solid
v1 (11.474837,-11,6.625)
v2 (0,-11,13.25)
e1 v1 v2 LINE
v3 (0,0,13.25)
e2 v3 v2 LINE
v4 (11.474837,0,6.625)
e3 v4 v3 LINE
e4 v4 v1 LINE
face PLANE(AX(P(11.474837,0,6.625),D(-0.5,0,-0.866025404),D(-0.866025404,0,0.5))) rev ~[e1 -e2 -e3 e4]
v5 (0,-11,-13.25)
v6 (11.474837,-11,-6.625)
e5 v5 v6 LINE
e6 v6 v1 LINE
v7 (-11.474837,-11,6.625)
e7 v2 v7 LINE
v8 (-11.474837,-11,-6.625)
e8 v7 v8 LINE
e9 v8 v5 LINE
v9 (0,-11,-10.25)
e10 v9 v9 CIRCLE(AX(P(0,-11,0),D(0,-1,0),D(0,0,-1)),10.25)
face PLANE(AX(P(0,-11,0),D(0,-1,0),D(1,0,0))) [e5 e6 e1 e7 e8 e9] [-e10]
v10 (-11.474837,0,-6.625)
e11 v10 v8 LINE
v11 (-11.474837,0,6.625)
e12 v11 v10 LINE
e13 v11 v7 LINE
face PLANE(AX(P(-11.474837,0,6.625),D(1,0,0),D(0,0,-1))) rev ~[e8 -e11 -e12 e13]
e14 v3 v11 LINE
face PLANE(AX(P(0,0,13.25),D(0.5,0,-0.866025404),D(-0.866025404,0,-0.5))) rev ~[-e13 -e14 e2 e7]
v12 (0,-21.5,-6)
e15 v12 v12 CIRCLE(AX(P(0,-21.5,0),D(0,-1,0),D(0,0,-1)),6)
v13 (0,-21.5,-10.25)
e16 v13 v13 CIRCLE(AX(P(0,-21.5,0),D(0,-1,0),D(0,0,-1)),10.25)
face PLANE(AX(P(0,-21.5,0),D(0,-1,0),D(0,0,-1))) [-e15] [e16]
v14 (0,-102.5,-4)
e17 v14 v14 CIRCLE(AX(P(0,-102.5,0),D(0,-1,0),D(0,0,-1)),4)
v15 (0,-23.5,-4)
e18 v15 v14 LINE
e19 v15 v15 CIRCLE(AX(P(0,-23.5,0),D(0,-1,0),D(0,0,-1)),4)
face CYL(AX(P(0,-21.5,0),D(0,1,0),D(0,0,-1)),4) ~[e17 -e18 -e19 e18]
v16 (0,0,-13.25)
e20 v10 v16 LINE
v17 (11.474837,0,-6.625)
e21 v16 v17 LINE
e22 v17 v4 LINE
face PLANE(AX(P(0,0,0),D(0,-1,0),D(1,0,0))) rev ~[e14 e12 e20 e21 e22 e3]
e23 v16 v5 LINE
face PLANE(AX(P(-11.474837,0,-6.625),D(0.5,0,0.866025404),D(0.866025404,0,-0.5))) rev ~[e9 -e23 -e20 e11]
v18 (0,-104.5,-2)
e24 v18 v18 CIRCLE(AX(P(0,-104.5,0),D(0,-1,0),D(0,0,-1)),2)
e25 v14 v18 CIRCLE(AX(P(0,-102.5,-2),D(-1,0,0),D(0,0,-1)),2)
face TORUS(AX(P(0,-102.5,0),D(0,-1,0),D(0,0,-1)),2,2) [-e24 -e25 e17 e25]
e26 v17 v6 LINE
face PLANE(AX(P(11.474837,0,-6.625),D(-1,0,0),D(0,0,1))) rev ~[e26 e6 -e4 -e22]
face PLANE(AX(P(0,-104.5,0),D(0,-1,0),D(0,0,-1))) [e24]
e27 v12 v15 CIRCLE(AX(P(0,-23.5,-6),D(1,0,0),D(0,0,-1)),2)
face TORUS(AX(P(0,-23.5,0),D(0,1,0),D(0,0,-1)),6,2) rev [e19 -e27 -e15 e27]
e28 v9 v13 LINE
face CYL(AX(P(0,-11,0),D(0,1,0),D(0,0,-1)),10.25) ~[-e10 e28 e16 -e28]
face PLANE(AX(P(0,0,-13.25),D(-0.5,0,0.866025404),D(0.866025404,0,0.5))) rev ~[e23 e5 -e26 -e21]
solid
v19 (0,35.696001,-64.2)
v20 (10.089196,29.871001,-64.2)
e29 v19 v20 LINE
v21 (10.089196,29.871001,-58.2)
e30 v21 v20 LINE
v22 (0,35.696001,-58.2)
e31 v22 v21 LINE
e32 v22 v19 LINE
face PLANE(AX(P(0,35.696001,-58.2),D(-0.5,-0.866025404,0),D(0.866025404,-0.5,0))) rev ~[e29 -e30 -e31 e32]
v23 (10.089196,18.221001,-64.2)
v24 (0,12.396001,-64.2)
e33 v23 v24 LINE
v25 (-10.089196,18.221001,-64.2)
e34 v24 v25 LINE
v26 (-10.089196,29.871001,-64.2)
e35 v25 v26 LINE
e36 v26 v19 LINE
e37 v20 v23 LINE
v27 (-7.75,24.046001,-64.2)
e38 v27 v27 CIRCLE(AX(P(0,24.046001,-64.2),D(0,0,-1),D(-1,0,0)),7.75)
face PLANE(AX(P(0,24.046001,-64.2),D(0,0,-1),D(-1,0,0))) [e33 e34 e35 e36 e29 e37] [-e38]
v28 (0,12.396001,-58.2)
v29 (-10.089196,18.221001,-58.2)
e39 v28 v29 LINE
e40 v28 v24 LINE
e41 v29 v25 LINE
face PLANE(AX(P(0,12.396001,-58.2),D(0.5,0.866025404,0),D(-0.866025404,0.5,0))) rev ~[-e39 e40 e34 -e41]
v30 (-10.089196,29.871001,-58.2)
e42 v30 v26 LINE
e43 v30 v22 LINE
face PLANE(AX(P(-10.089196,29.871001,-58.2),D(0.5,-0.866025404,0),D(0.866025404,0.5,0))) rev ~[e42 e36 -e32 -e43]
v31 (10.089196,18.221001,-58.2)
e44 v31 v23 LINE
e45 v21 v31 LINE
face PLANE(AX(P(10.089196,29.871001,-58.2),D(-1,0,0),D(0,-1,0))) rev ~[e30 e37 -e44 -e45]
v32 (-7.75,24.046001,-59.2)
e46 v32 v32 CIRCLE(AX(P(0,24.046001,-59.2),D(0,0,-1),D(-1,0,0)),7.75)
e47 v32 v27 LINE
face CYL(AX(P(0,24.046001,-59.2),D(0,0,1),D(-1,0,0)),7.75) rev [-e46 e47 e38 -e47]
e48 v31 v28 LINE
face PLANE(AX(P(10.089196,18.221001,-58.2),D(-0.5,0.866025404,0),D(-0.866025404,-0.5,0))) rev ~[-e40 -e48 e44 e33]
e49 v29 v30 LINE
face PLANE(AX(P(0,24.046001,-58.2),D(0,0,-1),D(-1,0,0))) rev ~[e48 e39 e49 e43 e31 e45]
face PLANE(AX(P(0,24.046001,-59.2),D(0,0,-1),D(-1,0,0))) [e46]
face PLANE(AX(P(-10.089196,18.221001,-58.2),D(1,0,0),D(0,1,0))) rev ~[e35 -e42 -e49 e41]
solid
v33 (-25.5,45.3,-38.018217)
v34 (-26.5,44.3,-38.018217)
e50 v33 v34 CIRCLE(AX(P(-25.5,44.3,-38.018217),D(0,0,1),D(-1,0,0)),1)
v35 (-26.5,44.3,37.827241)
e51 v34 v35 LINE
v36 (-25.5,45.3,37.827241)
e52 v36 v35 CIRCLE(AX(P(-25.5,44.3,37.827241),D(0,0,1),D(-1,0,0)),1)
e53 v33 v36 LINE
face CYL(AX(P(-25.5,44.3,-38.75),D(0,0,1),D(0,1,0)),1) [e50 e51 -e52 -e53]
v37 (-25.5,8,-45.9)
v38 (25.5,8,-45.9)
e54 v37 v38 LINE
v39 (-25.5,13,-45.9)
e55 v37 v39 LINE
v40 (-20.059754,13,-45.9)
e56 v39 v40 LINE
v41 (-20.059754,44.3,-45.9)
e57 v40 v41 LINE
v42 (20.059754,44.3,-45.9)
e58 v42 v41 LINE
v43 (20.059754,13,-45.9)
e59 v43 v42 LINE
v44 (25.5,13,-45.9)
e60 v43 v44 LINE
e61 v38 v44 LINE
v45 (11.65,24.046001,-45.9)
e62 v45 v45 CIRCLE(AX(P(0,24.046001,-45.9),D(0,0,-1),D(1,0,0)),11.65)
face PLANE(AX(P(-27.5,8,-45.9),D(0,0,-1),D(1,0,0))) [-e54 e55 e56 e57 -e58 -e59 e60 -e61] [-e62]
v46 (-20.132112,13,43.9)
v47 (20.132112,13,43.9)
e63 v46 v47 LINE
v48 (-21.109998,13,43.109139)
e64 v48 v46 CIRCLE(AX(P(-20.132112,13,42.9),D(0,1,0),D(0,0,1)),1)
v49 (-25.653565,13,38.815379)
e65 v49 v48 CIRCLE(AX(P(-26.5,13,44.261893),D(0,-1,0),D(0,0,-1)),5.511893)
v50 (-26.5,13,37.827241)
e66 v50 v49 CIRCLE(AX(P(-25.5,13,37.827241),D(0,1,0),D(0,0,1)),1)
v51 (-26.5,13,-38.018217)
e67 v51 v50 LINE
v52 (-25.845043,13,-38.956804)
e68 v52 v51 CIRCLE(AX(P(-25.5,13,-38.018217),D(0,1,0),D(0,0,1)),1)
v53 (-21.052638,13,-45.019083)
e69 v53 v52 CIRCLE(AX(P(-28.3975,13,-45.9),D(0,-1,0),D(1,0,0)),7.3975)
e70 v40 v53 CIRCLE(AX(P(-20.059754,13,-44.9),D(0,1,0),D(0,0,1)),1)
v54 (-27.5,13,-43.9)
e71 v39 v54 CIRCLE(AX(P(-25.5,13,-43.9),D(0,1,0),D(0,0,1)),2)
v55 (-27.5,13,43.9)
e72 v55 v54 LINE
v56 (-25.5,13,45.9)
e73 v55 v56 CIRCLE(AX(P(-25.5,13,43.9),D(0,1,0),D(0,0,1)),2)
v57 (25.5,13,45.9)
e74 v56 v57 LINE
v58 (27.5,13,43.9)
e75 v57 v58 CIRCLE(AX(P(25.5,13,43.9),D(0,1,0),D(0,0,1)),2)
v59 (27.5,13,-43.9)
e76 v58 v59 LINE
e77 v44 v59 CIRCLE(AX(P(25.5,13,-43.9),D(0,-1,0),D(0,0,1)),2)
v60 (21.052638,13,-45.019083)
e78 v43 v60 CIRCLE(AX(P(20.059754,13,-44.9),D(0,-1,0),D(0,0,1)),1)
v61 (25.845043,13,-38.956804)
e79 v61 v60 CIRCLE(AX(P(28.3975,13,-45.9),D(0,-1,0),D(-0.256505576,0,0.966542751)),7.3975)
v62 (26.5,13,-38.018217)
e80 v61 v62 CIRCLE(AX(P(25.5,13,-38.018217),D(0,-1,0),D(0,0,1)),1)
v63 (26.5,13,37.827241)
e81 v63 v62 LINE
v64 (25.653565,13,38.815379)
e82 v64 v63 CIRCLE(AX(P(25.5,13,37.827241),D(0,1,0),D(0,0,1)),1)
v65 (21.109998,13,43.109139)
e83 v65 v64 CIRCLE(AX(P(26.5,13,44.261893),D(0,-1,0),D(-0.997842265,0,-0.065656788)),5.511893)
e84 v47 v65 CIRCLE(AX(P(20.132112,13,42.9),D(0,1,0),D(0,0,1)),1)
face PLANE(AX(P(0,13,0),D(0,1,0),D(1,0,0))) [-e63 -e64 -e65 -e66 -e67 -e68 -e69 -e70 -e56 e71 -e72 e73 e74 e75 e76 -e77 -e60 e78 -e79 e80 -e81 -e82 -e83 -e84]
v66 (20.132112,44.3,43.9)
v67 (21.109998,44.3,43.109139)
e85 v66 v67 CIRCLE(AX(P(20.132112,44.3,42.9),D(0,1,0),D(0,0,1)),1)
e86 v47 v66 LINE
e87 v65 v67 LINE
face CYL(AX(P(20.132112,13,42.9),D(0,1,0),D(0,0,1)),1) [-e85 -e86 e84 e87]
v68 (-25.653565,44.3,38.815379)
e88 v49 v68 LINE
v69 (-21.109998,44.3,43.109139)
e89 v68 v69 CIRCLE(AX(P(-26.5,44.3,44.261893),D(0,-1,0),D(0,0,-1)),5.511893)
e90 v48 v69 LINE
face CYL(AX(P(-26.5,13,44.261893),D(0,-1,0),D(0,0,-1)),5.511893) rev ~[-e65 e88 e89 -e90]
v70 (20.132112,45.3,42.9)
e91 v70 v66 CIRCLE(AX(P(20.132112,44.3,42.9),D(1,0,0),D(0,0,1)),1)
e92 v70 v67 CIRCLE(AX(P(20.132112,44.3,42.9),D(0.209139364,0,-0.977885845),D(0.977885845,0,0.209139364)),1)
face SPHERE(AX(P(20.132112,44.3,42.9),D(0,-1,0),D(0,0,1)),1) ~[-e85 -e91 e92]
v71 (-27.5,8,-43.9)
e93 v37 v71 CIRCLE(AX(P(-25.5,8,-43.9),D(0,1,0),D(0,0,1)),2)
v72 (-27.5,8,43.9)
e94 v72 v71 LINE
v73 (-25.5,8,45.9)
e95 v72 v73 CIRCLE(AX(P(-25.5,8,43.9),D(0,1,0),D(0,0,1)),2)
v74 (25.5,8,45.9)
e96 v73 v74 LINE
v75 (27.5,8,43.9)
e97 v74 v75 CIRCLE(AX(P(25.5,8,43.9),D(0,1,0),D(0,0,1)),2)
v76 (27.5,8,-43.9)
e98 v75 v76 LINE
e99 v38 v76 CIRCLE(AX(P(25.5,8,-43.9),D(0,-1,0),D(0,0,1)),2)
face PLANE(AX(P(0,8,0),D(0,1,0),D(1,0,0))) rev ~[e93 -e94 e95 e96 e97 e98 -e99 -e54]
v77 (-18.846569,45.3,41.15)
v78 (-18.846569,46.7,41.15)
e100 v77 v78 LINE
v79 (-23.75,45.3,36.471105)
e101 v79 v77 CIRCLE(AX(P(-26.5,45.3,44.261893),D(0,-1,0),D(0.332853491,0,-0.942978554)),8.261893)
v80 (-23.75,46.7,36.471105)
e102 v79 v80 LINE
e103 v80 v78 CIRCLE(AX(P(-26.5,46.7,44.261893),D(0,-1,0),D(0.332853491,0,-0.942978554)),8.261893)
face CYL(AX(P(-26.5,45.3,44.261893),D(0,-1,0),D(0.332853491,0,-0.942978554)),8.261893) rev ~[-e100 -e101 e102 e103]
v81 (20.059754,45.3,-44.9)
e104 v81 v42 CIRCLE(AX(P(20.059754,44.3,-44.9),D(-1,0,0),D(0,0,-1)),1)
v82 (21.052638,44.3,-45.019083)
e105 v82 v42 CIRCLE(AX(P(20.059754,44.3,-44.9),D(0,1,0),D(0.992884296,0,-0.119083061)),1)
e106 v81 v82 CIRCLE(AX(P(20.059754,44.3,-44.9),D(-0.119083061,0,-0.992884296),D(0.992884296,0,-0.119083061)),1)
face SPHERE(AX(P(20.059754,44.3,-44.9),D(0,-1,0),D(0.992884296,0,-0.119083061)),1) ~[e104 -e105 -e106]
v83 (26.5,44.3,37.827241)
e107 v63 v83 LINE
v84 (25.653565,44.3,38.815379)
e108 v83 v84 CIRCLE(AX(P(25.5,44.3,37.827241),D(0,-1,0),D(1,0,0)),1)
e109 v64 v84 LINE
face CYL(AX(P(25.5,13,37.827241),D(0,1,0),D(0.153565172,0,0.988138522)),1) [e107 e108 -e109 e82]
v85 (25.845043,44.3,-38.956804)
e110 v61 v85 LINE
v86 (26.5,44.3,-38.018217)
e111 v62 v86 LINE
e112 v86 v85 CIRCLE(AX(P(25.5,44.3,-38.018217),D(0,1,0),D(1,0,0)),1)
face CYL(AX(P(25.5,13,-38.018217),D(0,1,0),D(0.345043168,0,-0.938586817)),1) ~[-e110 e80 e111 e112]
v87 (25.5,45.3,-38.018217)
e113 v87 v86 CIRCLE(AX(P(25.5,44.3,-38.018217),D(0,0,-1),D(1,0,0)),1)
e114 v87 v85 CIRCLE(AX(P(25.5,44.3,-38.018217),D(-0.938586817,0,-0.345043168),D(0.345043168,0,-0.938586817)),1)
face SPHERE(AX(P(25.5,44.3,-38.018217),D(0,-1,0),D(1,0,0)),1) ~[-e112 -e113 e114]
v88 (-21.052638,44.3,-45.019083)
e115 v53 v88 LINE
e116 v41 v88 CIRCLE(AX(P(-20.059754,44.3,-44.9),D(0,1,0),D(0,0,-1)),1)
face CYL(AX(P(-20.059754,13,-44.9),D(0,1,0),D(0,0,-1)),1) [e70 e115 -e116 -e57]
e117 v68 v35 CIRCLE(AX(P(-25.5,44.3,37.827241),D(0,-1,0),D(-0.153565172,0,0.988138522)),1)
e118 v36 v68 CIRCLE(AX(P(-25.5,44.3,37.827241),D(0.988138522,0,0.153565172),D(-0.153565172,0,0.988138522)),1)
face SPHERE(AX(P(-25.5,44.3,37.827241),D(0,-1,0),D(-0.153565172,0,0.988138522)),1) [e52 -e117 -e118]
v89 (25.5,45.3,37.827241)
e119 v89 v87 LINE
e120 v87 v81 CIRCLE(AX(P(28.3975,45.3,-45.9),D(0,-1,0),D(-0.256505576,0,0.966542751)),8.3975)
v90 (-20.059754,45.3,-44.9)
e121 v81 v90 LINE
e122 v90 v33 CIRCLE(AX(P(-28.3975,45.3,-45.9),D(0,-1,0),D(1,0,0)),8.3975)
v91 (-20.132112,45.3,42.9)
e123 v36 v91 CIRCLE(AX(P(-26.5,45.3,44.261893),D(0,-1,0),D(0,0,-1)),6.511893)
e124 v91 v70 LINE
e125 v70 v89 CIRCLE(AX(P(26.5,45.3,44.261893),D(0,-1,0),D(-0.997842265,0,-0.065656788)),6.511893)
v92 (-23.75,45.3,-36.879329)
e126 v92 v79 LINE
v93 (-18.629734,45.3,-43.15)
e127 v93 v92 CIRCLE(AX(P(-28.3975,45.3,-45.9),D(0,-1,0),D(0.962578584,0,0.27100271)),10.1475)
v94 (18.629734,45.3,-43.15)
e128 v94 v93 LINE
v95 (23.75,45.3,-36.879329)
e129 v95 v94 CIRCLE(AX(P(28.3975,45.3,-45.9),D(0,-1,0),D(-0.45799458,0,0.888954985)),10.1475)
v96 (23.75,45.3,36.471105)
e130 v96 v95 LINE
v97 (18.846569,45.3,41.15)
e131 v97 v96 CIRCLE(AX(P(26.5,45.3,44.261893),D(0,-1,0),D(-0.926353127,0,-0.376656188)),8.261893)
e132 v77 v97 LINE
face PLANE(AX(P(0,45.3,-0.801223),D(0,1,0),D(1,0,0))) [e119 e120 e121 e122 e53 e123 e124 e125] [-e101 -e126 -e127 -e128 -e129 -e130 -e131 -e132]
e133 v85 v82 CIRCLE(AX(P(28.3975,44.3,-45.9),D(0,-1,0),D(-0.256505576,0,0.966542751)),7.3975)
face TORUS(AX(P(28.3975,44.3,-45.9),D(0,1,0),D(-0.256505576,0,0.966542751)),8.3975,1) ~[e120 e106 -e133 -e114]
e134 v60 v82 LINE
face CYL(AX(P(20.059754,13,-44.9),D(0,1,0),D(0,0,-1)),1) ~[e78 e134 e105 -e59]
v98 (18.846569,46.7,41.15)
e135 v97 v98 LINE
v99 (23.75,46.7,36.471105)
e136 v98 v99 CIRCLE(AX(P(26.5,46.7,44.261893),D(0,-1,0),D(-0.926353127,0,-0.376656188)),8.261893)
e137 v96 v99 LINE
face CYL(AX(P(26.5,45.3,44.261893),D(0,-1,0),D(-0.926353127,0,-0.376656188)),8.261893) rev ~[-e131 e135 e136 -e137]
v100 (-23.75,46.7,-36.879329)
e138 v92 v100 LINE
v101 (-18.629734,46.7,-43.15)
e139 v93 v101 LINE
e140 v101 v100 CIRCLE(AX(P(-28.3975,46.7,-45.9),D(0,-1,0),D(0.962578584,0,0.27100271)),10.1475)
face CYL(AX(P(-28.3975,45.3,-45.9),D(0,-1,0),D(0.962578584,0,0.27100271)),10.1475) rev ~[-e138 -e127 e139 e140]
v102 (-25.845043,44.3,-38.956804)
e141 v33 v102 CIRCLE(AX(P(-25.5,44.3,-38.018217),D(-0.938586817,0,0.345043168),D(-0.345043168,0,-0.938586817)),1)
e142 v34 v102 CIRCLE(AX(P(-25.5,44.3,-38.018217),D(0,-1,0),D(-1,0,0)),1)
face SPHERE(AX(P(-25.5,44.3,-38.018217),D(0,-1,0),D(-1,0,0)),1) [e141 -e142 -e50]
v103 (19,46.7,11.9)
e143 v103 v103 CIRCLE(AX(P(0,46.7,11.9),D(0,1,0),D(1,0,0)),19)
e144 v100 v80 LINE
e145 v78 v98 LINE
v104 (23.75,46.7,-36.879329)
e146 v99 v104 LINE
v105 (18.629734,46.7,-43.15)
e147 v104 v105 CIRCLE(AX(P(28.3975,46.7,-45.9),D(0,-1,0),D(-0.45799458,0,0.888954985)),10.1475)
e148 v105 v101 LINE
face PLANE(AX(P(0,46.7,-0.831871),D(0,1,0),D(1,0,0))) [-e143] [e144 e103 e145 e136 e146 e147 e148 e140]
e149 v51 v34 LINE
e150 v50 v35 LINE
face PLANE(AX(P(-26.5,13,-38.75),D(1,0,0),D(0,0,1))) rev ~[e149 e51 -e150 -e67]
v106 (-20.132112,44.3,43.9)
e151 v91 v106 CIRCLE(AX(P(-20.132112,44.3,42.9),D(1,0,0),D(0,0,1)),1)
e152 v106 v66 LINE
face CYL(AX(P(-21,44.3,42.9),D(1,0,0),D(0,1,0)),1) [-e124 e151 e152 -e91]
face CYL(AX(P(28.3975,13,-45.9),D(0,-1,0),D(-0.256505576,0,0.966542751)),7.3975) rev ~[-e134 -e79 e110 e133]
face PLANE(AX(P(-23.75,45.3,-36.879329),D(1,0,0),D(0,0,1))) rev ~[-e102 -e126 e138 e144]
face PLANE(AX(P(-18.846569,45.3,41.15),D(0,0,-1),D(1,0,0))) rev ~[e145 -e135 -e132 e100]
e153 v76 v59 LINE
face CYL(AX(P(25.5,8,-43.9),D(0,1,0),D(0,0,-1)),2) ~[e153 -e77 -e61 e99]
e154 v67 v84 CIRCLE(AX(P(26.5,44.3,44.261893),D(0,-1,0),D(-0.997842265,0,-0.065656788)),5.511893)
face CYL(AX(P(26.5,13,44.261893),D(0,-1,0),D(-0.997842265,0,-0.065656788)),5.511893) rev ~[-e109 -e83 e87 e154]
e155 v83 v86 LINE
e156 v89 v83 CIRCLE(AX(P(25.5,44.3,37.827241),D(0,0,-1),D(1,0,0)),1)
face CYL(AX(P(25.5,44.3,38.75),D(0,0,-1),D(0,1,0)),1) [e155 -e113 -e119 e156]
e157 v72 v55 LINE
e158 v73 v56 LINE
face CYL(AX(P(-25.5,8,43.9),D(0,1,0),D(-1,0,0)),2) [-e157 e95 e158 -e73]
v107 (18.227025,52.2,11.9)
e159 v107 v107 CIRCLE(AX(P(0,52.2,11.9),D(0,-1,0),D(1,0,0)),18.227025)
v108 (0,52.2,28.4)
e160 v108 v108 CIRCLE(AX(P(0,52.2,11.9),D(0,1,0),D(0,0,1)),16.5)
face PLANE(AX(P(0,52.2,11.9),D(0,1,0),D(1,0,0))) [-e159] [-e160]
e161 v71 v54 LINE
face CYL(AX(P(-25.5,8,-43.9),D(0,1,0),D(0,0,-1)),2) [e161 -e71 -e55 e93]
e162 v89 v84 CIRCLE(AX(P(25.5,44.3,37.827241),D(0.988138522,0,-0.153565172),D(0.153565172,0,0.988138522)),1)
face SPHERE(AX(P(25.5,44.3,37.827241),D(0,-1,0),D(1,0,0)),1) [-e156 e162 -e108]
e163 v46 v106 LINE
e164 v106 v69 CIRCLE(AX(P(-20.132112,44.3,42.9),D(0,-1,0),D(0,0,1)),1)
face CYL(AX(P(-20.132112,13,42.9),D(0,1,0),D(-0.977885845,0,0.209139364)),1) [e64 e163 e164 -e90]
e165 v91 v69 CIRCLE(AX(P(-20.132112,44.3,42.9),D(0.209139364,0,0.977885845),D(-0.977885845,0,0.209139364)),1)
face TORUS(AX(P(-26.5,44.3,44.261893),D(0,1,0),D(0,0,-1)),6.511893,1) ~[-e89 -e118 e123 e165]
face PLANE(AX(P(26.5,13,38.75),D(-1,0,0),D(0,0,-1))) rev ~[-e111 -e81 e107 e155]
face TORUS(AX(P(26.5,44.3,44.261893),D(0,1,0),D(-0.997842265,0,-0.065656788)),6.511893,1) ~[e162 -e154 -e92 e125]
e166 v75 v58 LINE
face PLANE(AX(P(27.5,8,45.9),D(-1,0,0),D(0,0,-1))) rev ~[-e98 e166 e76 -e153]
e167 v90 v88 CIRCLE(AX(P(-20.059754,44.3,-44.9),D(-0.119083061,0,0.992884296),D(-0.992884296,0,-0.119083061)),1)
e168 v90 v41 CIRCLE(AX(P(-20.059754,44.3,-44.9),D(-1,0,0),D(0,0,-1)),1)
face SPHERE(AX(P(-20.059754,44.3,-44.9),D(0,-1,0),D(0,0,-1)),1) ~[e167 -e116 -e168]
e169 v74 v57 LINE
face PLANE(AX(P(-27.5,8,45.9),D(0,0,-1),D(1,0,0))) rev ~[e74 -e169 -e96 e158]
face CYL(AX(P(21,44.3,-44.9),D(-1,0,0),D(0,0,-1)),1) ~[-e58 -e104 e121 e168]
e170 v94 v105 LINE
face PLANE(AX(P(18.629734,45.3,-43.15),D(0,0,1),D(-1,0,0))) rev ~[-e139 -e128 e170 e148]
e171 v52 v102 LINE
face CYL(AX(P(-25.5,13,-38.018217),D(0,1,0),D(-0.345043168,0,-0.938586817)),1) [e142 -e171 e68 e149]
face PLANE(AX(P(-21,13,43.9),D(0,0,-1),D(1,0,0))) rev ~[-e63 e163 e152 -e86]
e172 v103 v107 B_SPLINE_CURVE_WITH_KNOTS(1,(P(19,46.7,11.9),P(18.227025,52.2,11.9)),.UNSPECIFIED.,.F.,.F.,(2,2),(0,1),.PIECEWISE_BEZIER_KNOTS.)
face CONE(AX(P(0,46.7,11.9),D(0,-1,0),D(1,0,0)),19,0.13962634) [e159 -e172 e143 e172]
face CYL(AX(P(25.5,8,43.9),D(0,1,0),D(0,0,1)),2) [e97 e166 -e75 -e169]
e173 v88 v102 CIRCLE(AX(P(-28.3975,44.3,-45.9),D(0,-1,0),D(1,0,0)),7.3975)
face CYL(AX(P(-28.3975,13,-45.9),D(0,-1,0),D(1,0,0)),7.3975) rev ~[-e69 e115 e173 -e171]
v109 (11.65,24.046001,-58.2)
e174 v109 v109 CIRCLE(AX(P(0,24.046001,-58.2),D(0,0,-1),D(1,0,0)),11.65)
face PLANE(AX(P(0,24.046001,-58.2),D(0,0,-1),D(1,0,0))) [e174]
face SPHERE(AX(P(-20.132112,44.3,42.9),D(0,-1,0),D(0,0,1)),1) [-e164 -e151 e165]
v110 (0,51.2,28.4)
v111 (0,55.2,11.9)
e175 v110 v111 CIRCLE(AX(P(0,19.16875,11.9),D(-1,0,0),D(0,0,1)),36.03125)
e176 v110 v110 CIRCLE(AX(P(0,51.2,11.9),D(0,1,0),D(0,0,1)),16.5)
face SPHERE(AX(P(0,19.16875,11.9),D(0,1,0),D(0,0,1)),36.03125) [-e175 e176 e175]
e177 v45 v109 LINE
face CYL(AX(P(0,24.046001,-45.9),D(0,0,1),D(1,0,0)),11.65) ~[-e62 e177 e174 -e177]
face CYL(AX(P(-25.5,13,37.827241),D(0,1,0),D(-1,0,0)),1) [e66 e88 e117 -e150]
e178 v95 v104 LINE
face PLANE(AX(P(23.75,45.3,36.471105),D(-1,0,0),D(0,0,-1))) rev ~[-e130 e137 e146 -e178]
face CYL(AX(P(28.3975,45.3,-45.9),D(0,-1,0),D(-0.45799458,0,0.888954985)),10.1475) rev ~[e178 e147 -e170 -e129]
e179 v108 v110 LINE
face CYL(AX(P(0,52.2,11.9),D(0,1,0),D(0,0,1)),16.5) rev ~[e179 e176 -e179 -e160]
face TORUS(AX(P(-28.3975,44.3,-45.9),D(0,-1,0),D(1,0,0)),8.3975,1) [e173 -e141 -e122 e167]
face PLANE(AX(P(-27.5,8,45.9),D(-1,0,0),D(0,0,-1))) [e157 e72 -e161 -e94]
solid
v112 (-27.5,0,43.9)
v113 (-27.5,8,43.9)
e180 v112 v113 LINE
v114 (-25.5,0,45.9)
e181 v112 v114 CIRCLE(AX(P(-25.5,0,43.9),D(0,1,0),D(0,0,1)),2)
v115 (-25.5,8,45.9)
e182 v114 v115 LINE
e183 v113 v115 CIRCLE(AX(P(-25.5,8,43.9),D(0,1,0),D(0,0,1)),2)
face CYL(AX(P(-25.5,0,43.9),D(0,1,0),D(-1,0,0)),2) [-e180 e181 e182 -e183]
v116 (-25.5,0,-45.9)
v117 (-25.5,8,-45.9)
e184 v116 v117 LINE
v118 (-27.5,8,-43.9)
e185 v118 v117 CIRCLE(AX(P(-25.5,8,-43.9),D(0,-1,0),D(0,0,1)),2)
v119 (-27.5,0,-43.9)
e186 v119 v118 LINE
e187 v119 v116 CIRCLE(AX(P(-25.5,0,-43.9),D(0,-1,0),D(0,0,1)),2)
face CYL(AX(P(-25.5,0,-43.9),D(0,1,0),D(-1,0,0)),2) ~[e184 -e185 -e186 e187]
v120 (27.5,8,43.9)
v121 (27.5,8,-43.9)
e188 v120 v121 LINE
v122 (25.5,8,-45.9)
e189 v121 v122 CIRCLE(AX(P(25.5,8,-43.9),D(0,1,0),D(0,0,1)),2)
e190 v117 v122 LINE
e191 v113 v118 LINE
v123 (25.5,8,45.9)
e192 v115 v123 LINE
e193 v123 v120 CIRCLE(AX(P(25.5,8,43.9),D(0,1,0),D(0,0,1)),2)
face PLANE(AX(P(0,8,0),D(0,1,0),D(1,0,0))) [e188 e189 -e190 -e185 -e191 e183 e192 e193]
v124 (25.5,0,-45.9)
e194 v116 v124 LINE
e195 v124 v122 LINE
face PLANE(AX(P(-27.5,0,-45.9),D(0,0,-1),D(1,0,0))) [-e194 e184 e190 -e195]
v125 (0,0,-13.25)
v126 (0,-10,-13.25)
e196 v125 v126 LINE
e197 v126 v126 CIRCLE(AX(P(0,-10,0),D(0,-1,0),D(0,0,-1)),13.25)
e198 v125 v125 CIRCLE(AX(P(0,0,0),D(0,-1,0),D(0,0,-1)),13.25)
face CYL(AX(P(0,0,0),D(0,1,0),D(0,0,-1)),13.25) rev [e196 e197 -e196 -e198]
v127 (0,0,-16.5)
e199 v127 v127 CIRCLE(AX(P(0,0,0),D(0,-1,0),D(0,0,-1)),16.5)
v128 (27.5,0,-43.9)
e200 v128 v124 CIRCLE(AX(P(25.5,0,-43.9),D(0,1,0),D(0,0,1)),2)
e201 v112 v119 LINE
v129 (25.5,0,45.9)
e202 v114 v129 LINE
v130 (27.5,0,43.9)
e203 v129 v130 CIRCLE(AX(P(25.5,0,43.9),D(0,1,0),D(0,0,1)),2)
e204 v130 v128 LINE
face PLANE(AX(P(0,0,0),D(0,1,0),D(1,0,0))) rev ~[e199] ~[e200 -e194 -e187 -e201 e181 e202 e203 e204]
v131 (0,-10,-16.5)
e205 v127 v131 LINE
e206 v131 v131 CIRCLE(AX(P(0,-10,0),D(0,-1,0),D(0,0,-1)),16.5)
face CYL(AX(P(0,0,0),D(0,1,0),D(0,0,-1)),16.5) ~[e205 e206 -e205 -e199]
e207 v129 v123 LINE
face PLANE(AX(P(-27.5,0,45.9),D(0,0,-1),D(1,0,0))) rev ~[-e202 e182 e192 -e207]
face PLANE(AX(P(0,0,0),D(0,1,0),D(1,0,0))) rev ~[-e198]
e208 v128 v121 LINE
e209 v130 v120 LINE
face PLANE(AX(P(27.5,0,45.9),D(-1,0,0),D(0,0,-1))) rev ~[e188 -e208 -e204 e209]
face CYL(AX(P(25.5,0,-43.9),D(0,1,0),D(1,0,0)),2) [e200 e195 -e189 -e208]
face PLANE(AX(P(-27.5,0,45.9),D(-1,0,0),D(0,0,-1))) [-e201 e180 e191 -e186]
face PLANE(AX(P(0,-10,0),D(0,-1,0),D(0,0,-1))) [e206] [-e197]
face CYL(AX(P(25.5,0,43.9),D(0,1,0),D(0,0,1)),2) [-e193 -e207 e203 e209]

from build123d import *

# Parameters (mm, degrees)
SKICA1_W                 = 55
SKICA1_H                 = 91.8
P_IDAT_VYSUNUT_M1_DEPTH  = 8
SKICA2_W                 = 55
SKICA2_H                 = 91.8
P_IDAT_VYSUNUT_M2_DEPTH  = 5
P_IDAT_VYSUNUT_M3_DEPTH  = 32.3
P_IDAT_VYSUNUT_M4_DEPTH  = 1.4
ZAOBLIT1_R               = 1
ZAOBLIT1_2_R             = 2
ZAOBLIT2_R               = 2
SKICA5_R                 = 11.65
P_IDAT_VYSUNUT_M5_DEPTH  = 12.3
P_IDAT_VYSUNUT_M6_DEPTH  = 6
ODEBRAT_START            = 1
SKICA6_3_R               = 7.75
ODEBRAT_VYSUNUT_M1_DEPTH = 5
SKICA9_R                 = 19
P_IDAT_VYSUNUT_M8_DEPTH  = 5.5
P_IDAT_VYSUNUT_M8_TAPER  = 8
SKICA10_R                = 16.5
ODEBRAT_VYSUNUT_M2_DEPTH = 1
KOPULE1_FACE_RADIUS      = 16.5
KOPULE1_HEIGHT           = 4
SKICA11_R                = 16.5
SKICA11_R_2              = 13.25
P_IDAT_VYSUNUT_M9_DEPTH  = 10
P_IDAT_VYSUNUT_M10_DEPTH = 11
SKICA13_R                = 10.25
P_IDAT_VYSUNUT_M11_DEPTH = 10.5
SKICA14_R                = 4
P_IDAT_VYSUNUT_M12_DEPTH = 83
ZAOBLIT3_R               = 2


with BuildPart() as part:
    # Skica1 → P_idat vysunut_m1 (new body)
    with BuildSketch(Plane(origin=(0, 0, 0), x_dir=(1, 0, 0), z_dir=(0, 1, 0))):
        Rectangle(SKICA1_W, SKICA1_H)
    extrude(amount=P_IDAT_VYSUNUT_M1_DEPTH)

    # Zaoblit2
    zaoblit2_edges = [part.edges().sort_by_distance(p)[0] for p in [
        (27.5, 4, 45.9),
        (-27.5, 4, 45.9),
        (-27.5, 4, -45.9),
        (27.5, 4, -45.9),
    ]]
    fillet(zaoblit2_edges, radius=ZAOBLIT2_R)

    # Skica11 → P_idat vysunut_m9 (add)
    with BuildSketch(Plane.XZ):
        with Locations(Location((0, 0, 0), (0, 0, 270))):  # turned: the seam where the file's is
            Circle(SKICA11_R)
        with Locations(Location((0, 0, 0), (0, 0, 270))):  # turned: the seam where the file's is
            Circle(SKICA11_R_2, mode=Mode.SUBTRACT)
    extrude(amount=P_IDAT_VYSUNUT_M9_DEPTH)


with BuildPart() as body_2:
    # Skica2 → P_idat vysunut_m2 (new body)
    with BuildSketch(Plane(origin=(0, 8, 0), x_dir=(1, 0, 0), z_dir=(0, 1, 0))):
        Rectangle(SKICA2_W, SKICA2_H)
    extrude(amount=P_IDAT_VYSUNUT_M2_DEPTH)

    # Skica3 → P_idat vysunut_m3 (add)
    with BuildSketch(Plane(origin=(0, 13, 0), x_dir=(1, 0, 0), z_dir=(0, 1, 0))):
        with BuildLine():
            Line((21, 45.9), (-21, 45.9))
            ThreePointArc((-21, 45.9), (-22.534064041, 41.389664647), (-26.5, 38.75))
            Line((-26.5, 38.75), (-26.5, -38.75))
            ThreePointArc((-26.5, -38.75), (-22.732623592, -40.238481506), (-21, -43.9))
            Line((-21, -43.9), (21, -43.9))
            ThreePointArc((21, -43.9), (22.732623592, -40.238481506), (26.5, -38.75))
            Line((26.5, -38.75), (26.5, 38.75))
            ThreePointArc((26.5, 38.75), (22.534064041, 41.389664647), (21, 45.9))
        make_face()
    extrude(amount=P_IDAT_VYSUNUT_M3_DEPTH)

    # Skica4 → P_idat vysunut_m4 (add)
    with BuildSketch(Plane(origin=(0, 45.3, 0), x_dir=(1, 0, 0), z_dir=(0, 1, 0))):
        with BuildLine():
            Line((-23.75, 36.879329293), (-23.75, -36.471105098))
            ThreePointArc((-23.75, -36.471105098), (-20.796417226, -38.284600936), (-18.846569397, -41.15))
            Line((-18.846569397, -41.15), (18.846569397, -41.15))
            ThreePointArc((18.846569397, -41.15), (20.796417226, -38.284600936), (23.75, -36.471105098))
            Line((23.75, -36.471105098), (23.75, 36.879329293))
            ThreePointArc((23.75, 36.879329293), (20.537455307, 39.481943154), (18.629733815, 43.15))
            Line((18.629733815, 43.15), (-18.629733815, 43.15))
            ThreePointArc((-18.629733815, 43.15), (-20.537455307, 39.481943154), (-23.75, 36.879329293))
        make_face()
    extrude(amount=P_IDAT_VYSUNUT_M4_DEPTH)

    # Zaoblit1
    zaoblit1_edges = [body_2.edges().sort_by_distance(p)[0] for p in [
        (-21, 29.15, -45.9),
        (21, 29.15, -45.9),
        (22.534064041, 45.3, -41.389664647),
        (0, 45.3, -45.9),
        (26.5, 29.15, -38.75),
        (26.5, 45.3, 0),
        (-22.534064041, 45.3, -41.389664647),
        (-26.5, 29.15, -38.75),
        (-26.5, 45.3, 0),
        (-26.5, 29.15, 38.75),
        (-22.732623592, 45.3, 40.238481506),
        (-21, 29.15, 43.9),
        (0, 45.3, 43.9),
        (22.732623592, 45.3, 40.238481506),
        (21, 29.15, 43.9),
        (26.5, 29.15, 38.75),
    ]]
    fillet(zaoblit1_edges, radius=ZAOBLIT1_R)

    # Zaoblit1 2
    zaoblit1_2_edges = [body_2.edges().sort_by_distance(p)[0] for p in [
        (-27.5, 10.5, 45.9),
        (27.5, 10.5, 45.9),
        (-27.5, 10.5, -45.9),
        (27.5, 10.5, -45.9),
    ]]
    fillet(zaoblit1_2_edges, radius=ZAOBLIT1_2_R)

    # Skica5 → P_idat vysunut_m5 (add)
    with BuildSketch(Plane(origin=(0, 0, -45.9), x_dir=(-1, 0, 0), z_dir=(0, 0, -1))):
        with Locations(Location((0, 24.046001382, 0), (0, 0, 180))):  # turned: the seam where the file's is
            Circle(SKICA5_R)
    extrude(amount=P_IDAT_VYSUNUT_M5_DEPTH)

    # Skica9 → P_idat vysunut_m8 (add)
    with BuildSketch(Plane(origin=(0, 46.7, 0), x_dir=(1, 0, 0), z_dir=(0, 1, 0))):
        with Locations((0, -11.9)):
            Circle(SKICA9_R)
    extrude(amount=P_IDAT_VYSUNUT_M8_DEPTH, taper=P_IDAT_VYSUNUT_M8_TAPER)

    # Skica10 → Odebrat vysunut_m2 (cut)
    with BuildSketch(Plane(origin=(0, 52.2, 0), x_dir=(1, 0, 0), z_dir=(0, 1, 0))):
        with Locations(Location((0, -11.9, 0), (0, 0, 270))):  # turned: the seam where the file's is
            Circle(SKICA10_R)
    extrude(amount=-ODEBRAT_VYSUNUT_M2_DEPTH, mode=Mode.SUBTRACT)

    # Kopule1: a dome of height H over a round flat face of radius A is a cap of a sphere of radius (A * A + H * H) / (2 * H)
    kopule1_r = (KOPULE1_FACE_RADIUS * KOPULE1_FACE_RADIUS + KOPULE1_HEIGHT * KOPULE1_HEIGHT) / (2 * KOPULE1_HEIGHT)
    kopule1_base = Plane((0, 51.2, 11.9), z_dir=(0, 1, 0))
    with Locations(kopule1_base.offset(KOPULE1_HEIGHT - kopule1_r)):
        kopule1_ball = Sphere(kopule1_r, mode=Mode.PRIVATE)
    add(split(kopule1_ball, bisect_by=kopule1_base, keep=Keep.TOP, mode=Mode.PRIVATE))


with BuildPart() as body_3:
    # Skica6 → P_idat vysunut_m6 (new body)
    with BuildSketch(Plane(origin=(0, 0, -58.2), x_dir=(-1, 0, 0), z_dir=(0, 0, -1))):
        Polygon((0, 35.696001382), (-10.089195954, 29.871001382), (-10.089195954, 18.221001382), (0, 12.396001382), (10.089195954, 18.221001382), (10.089195954, 29.871001382), align=None)
    extrude(amount=P_IDAT_VYSUNUT_M6_DEPTH)

    # Skica6_3 → Odebrat vysunut_m1 (cut)
    with BuildSketch(Plane(origin=(0, 0, -58.2), x_dir=(-1, 0, 0), z_dir=(0, 0, -1)).offset(ODEBRAT_START)):
        with Locations((0, 24.046001382)):
            Circle(SKICA6_3_R)
    extrude(amount=ODEBRAT_VYSUNUT_M1_DEPTH, mode=Mode.SUBTRACT)


with BuildPart() as body_4:
    # Skica12 → P_idat vysunut_m10 (new body)
    with BuildSketch(Plane.XZ):
        Polygon((11.4748366, 6.625), (0, 13.25), (-11.4748366, 6.625), (-11.4748366, -6.625), (0, -13.25), (11.4748366, -6.625), align=None)
    extrude(amount=P_IDAT_VYSUNUT_M10_DEPTH)

    # Skica13 → P_idat vysunut_m11 (add)
    with BuildSketch(Plane.XZ.offset(11)):
        with Locations(Location((0, 0, 0), (0, 0, 270))):  # turned: the seam where the file's is
            Circle(SKICA13_R)
    extrude(amount=P_IDAT_VYSUNUT_M11_DEPTH)

    # Skica14 → P_idat vysunut_m12 (add)
    with BuildSketch(Plane.XZ.offset(21.5)):
        with Locations(Location((0, 0, 0), (0, 0, 270))):  # turned: the seam where the file's is
            Circle(SKICA14_R)
    extrude(amount=P_IDAT_VYSUNUT_M12_DEPTH)

    # Zaoblit3
    zaoblit3_edges = [body_4.edges().sort_by_distance(p)[0] for p in [
        (0, -21.5, 4),
        (0, -104.5, 4),
    ]]
    fillet(zaoblit3_edges, radius=ZAOBLIT3_R)


solid = Compound([part.part, body_2.part, body_3.part, body_4.part])
